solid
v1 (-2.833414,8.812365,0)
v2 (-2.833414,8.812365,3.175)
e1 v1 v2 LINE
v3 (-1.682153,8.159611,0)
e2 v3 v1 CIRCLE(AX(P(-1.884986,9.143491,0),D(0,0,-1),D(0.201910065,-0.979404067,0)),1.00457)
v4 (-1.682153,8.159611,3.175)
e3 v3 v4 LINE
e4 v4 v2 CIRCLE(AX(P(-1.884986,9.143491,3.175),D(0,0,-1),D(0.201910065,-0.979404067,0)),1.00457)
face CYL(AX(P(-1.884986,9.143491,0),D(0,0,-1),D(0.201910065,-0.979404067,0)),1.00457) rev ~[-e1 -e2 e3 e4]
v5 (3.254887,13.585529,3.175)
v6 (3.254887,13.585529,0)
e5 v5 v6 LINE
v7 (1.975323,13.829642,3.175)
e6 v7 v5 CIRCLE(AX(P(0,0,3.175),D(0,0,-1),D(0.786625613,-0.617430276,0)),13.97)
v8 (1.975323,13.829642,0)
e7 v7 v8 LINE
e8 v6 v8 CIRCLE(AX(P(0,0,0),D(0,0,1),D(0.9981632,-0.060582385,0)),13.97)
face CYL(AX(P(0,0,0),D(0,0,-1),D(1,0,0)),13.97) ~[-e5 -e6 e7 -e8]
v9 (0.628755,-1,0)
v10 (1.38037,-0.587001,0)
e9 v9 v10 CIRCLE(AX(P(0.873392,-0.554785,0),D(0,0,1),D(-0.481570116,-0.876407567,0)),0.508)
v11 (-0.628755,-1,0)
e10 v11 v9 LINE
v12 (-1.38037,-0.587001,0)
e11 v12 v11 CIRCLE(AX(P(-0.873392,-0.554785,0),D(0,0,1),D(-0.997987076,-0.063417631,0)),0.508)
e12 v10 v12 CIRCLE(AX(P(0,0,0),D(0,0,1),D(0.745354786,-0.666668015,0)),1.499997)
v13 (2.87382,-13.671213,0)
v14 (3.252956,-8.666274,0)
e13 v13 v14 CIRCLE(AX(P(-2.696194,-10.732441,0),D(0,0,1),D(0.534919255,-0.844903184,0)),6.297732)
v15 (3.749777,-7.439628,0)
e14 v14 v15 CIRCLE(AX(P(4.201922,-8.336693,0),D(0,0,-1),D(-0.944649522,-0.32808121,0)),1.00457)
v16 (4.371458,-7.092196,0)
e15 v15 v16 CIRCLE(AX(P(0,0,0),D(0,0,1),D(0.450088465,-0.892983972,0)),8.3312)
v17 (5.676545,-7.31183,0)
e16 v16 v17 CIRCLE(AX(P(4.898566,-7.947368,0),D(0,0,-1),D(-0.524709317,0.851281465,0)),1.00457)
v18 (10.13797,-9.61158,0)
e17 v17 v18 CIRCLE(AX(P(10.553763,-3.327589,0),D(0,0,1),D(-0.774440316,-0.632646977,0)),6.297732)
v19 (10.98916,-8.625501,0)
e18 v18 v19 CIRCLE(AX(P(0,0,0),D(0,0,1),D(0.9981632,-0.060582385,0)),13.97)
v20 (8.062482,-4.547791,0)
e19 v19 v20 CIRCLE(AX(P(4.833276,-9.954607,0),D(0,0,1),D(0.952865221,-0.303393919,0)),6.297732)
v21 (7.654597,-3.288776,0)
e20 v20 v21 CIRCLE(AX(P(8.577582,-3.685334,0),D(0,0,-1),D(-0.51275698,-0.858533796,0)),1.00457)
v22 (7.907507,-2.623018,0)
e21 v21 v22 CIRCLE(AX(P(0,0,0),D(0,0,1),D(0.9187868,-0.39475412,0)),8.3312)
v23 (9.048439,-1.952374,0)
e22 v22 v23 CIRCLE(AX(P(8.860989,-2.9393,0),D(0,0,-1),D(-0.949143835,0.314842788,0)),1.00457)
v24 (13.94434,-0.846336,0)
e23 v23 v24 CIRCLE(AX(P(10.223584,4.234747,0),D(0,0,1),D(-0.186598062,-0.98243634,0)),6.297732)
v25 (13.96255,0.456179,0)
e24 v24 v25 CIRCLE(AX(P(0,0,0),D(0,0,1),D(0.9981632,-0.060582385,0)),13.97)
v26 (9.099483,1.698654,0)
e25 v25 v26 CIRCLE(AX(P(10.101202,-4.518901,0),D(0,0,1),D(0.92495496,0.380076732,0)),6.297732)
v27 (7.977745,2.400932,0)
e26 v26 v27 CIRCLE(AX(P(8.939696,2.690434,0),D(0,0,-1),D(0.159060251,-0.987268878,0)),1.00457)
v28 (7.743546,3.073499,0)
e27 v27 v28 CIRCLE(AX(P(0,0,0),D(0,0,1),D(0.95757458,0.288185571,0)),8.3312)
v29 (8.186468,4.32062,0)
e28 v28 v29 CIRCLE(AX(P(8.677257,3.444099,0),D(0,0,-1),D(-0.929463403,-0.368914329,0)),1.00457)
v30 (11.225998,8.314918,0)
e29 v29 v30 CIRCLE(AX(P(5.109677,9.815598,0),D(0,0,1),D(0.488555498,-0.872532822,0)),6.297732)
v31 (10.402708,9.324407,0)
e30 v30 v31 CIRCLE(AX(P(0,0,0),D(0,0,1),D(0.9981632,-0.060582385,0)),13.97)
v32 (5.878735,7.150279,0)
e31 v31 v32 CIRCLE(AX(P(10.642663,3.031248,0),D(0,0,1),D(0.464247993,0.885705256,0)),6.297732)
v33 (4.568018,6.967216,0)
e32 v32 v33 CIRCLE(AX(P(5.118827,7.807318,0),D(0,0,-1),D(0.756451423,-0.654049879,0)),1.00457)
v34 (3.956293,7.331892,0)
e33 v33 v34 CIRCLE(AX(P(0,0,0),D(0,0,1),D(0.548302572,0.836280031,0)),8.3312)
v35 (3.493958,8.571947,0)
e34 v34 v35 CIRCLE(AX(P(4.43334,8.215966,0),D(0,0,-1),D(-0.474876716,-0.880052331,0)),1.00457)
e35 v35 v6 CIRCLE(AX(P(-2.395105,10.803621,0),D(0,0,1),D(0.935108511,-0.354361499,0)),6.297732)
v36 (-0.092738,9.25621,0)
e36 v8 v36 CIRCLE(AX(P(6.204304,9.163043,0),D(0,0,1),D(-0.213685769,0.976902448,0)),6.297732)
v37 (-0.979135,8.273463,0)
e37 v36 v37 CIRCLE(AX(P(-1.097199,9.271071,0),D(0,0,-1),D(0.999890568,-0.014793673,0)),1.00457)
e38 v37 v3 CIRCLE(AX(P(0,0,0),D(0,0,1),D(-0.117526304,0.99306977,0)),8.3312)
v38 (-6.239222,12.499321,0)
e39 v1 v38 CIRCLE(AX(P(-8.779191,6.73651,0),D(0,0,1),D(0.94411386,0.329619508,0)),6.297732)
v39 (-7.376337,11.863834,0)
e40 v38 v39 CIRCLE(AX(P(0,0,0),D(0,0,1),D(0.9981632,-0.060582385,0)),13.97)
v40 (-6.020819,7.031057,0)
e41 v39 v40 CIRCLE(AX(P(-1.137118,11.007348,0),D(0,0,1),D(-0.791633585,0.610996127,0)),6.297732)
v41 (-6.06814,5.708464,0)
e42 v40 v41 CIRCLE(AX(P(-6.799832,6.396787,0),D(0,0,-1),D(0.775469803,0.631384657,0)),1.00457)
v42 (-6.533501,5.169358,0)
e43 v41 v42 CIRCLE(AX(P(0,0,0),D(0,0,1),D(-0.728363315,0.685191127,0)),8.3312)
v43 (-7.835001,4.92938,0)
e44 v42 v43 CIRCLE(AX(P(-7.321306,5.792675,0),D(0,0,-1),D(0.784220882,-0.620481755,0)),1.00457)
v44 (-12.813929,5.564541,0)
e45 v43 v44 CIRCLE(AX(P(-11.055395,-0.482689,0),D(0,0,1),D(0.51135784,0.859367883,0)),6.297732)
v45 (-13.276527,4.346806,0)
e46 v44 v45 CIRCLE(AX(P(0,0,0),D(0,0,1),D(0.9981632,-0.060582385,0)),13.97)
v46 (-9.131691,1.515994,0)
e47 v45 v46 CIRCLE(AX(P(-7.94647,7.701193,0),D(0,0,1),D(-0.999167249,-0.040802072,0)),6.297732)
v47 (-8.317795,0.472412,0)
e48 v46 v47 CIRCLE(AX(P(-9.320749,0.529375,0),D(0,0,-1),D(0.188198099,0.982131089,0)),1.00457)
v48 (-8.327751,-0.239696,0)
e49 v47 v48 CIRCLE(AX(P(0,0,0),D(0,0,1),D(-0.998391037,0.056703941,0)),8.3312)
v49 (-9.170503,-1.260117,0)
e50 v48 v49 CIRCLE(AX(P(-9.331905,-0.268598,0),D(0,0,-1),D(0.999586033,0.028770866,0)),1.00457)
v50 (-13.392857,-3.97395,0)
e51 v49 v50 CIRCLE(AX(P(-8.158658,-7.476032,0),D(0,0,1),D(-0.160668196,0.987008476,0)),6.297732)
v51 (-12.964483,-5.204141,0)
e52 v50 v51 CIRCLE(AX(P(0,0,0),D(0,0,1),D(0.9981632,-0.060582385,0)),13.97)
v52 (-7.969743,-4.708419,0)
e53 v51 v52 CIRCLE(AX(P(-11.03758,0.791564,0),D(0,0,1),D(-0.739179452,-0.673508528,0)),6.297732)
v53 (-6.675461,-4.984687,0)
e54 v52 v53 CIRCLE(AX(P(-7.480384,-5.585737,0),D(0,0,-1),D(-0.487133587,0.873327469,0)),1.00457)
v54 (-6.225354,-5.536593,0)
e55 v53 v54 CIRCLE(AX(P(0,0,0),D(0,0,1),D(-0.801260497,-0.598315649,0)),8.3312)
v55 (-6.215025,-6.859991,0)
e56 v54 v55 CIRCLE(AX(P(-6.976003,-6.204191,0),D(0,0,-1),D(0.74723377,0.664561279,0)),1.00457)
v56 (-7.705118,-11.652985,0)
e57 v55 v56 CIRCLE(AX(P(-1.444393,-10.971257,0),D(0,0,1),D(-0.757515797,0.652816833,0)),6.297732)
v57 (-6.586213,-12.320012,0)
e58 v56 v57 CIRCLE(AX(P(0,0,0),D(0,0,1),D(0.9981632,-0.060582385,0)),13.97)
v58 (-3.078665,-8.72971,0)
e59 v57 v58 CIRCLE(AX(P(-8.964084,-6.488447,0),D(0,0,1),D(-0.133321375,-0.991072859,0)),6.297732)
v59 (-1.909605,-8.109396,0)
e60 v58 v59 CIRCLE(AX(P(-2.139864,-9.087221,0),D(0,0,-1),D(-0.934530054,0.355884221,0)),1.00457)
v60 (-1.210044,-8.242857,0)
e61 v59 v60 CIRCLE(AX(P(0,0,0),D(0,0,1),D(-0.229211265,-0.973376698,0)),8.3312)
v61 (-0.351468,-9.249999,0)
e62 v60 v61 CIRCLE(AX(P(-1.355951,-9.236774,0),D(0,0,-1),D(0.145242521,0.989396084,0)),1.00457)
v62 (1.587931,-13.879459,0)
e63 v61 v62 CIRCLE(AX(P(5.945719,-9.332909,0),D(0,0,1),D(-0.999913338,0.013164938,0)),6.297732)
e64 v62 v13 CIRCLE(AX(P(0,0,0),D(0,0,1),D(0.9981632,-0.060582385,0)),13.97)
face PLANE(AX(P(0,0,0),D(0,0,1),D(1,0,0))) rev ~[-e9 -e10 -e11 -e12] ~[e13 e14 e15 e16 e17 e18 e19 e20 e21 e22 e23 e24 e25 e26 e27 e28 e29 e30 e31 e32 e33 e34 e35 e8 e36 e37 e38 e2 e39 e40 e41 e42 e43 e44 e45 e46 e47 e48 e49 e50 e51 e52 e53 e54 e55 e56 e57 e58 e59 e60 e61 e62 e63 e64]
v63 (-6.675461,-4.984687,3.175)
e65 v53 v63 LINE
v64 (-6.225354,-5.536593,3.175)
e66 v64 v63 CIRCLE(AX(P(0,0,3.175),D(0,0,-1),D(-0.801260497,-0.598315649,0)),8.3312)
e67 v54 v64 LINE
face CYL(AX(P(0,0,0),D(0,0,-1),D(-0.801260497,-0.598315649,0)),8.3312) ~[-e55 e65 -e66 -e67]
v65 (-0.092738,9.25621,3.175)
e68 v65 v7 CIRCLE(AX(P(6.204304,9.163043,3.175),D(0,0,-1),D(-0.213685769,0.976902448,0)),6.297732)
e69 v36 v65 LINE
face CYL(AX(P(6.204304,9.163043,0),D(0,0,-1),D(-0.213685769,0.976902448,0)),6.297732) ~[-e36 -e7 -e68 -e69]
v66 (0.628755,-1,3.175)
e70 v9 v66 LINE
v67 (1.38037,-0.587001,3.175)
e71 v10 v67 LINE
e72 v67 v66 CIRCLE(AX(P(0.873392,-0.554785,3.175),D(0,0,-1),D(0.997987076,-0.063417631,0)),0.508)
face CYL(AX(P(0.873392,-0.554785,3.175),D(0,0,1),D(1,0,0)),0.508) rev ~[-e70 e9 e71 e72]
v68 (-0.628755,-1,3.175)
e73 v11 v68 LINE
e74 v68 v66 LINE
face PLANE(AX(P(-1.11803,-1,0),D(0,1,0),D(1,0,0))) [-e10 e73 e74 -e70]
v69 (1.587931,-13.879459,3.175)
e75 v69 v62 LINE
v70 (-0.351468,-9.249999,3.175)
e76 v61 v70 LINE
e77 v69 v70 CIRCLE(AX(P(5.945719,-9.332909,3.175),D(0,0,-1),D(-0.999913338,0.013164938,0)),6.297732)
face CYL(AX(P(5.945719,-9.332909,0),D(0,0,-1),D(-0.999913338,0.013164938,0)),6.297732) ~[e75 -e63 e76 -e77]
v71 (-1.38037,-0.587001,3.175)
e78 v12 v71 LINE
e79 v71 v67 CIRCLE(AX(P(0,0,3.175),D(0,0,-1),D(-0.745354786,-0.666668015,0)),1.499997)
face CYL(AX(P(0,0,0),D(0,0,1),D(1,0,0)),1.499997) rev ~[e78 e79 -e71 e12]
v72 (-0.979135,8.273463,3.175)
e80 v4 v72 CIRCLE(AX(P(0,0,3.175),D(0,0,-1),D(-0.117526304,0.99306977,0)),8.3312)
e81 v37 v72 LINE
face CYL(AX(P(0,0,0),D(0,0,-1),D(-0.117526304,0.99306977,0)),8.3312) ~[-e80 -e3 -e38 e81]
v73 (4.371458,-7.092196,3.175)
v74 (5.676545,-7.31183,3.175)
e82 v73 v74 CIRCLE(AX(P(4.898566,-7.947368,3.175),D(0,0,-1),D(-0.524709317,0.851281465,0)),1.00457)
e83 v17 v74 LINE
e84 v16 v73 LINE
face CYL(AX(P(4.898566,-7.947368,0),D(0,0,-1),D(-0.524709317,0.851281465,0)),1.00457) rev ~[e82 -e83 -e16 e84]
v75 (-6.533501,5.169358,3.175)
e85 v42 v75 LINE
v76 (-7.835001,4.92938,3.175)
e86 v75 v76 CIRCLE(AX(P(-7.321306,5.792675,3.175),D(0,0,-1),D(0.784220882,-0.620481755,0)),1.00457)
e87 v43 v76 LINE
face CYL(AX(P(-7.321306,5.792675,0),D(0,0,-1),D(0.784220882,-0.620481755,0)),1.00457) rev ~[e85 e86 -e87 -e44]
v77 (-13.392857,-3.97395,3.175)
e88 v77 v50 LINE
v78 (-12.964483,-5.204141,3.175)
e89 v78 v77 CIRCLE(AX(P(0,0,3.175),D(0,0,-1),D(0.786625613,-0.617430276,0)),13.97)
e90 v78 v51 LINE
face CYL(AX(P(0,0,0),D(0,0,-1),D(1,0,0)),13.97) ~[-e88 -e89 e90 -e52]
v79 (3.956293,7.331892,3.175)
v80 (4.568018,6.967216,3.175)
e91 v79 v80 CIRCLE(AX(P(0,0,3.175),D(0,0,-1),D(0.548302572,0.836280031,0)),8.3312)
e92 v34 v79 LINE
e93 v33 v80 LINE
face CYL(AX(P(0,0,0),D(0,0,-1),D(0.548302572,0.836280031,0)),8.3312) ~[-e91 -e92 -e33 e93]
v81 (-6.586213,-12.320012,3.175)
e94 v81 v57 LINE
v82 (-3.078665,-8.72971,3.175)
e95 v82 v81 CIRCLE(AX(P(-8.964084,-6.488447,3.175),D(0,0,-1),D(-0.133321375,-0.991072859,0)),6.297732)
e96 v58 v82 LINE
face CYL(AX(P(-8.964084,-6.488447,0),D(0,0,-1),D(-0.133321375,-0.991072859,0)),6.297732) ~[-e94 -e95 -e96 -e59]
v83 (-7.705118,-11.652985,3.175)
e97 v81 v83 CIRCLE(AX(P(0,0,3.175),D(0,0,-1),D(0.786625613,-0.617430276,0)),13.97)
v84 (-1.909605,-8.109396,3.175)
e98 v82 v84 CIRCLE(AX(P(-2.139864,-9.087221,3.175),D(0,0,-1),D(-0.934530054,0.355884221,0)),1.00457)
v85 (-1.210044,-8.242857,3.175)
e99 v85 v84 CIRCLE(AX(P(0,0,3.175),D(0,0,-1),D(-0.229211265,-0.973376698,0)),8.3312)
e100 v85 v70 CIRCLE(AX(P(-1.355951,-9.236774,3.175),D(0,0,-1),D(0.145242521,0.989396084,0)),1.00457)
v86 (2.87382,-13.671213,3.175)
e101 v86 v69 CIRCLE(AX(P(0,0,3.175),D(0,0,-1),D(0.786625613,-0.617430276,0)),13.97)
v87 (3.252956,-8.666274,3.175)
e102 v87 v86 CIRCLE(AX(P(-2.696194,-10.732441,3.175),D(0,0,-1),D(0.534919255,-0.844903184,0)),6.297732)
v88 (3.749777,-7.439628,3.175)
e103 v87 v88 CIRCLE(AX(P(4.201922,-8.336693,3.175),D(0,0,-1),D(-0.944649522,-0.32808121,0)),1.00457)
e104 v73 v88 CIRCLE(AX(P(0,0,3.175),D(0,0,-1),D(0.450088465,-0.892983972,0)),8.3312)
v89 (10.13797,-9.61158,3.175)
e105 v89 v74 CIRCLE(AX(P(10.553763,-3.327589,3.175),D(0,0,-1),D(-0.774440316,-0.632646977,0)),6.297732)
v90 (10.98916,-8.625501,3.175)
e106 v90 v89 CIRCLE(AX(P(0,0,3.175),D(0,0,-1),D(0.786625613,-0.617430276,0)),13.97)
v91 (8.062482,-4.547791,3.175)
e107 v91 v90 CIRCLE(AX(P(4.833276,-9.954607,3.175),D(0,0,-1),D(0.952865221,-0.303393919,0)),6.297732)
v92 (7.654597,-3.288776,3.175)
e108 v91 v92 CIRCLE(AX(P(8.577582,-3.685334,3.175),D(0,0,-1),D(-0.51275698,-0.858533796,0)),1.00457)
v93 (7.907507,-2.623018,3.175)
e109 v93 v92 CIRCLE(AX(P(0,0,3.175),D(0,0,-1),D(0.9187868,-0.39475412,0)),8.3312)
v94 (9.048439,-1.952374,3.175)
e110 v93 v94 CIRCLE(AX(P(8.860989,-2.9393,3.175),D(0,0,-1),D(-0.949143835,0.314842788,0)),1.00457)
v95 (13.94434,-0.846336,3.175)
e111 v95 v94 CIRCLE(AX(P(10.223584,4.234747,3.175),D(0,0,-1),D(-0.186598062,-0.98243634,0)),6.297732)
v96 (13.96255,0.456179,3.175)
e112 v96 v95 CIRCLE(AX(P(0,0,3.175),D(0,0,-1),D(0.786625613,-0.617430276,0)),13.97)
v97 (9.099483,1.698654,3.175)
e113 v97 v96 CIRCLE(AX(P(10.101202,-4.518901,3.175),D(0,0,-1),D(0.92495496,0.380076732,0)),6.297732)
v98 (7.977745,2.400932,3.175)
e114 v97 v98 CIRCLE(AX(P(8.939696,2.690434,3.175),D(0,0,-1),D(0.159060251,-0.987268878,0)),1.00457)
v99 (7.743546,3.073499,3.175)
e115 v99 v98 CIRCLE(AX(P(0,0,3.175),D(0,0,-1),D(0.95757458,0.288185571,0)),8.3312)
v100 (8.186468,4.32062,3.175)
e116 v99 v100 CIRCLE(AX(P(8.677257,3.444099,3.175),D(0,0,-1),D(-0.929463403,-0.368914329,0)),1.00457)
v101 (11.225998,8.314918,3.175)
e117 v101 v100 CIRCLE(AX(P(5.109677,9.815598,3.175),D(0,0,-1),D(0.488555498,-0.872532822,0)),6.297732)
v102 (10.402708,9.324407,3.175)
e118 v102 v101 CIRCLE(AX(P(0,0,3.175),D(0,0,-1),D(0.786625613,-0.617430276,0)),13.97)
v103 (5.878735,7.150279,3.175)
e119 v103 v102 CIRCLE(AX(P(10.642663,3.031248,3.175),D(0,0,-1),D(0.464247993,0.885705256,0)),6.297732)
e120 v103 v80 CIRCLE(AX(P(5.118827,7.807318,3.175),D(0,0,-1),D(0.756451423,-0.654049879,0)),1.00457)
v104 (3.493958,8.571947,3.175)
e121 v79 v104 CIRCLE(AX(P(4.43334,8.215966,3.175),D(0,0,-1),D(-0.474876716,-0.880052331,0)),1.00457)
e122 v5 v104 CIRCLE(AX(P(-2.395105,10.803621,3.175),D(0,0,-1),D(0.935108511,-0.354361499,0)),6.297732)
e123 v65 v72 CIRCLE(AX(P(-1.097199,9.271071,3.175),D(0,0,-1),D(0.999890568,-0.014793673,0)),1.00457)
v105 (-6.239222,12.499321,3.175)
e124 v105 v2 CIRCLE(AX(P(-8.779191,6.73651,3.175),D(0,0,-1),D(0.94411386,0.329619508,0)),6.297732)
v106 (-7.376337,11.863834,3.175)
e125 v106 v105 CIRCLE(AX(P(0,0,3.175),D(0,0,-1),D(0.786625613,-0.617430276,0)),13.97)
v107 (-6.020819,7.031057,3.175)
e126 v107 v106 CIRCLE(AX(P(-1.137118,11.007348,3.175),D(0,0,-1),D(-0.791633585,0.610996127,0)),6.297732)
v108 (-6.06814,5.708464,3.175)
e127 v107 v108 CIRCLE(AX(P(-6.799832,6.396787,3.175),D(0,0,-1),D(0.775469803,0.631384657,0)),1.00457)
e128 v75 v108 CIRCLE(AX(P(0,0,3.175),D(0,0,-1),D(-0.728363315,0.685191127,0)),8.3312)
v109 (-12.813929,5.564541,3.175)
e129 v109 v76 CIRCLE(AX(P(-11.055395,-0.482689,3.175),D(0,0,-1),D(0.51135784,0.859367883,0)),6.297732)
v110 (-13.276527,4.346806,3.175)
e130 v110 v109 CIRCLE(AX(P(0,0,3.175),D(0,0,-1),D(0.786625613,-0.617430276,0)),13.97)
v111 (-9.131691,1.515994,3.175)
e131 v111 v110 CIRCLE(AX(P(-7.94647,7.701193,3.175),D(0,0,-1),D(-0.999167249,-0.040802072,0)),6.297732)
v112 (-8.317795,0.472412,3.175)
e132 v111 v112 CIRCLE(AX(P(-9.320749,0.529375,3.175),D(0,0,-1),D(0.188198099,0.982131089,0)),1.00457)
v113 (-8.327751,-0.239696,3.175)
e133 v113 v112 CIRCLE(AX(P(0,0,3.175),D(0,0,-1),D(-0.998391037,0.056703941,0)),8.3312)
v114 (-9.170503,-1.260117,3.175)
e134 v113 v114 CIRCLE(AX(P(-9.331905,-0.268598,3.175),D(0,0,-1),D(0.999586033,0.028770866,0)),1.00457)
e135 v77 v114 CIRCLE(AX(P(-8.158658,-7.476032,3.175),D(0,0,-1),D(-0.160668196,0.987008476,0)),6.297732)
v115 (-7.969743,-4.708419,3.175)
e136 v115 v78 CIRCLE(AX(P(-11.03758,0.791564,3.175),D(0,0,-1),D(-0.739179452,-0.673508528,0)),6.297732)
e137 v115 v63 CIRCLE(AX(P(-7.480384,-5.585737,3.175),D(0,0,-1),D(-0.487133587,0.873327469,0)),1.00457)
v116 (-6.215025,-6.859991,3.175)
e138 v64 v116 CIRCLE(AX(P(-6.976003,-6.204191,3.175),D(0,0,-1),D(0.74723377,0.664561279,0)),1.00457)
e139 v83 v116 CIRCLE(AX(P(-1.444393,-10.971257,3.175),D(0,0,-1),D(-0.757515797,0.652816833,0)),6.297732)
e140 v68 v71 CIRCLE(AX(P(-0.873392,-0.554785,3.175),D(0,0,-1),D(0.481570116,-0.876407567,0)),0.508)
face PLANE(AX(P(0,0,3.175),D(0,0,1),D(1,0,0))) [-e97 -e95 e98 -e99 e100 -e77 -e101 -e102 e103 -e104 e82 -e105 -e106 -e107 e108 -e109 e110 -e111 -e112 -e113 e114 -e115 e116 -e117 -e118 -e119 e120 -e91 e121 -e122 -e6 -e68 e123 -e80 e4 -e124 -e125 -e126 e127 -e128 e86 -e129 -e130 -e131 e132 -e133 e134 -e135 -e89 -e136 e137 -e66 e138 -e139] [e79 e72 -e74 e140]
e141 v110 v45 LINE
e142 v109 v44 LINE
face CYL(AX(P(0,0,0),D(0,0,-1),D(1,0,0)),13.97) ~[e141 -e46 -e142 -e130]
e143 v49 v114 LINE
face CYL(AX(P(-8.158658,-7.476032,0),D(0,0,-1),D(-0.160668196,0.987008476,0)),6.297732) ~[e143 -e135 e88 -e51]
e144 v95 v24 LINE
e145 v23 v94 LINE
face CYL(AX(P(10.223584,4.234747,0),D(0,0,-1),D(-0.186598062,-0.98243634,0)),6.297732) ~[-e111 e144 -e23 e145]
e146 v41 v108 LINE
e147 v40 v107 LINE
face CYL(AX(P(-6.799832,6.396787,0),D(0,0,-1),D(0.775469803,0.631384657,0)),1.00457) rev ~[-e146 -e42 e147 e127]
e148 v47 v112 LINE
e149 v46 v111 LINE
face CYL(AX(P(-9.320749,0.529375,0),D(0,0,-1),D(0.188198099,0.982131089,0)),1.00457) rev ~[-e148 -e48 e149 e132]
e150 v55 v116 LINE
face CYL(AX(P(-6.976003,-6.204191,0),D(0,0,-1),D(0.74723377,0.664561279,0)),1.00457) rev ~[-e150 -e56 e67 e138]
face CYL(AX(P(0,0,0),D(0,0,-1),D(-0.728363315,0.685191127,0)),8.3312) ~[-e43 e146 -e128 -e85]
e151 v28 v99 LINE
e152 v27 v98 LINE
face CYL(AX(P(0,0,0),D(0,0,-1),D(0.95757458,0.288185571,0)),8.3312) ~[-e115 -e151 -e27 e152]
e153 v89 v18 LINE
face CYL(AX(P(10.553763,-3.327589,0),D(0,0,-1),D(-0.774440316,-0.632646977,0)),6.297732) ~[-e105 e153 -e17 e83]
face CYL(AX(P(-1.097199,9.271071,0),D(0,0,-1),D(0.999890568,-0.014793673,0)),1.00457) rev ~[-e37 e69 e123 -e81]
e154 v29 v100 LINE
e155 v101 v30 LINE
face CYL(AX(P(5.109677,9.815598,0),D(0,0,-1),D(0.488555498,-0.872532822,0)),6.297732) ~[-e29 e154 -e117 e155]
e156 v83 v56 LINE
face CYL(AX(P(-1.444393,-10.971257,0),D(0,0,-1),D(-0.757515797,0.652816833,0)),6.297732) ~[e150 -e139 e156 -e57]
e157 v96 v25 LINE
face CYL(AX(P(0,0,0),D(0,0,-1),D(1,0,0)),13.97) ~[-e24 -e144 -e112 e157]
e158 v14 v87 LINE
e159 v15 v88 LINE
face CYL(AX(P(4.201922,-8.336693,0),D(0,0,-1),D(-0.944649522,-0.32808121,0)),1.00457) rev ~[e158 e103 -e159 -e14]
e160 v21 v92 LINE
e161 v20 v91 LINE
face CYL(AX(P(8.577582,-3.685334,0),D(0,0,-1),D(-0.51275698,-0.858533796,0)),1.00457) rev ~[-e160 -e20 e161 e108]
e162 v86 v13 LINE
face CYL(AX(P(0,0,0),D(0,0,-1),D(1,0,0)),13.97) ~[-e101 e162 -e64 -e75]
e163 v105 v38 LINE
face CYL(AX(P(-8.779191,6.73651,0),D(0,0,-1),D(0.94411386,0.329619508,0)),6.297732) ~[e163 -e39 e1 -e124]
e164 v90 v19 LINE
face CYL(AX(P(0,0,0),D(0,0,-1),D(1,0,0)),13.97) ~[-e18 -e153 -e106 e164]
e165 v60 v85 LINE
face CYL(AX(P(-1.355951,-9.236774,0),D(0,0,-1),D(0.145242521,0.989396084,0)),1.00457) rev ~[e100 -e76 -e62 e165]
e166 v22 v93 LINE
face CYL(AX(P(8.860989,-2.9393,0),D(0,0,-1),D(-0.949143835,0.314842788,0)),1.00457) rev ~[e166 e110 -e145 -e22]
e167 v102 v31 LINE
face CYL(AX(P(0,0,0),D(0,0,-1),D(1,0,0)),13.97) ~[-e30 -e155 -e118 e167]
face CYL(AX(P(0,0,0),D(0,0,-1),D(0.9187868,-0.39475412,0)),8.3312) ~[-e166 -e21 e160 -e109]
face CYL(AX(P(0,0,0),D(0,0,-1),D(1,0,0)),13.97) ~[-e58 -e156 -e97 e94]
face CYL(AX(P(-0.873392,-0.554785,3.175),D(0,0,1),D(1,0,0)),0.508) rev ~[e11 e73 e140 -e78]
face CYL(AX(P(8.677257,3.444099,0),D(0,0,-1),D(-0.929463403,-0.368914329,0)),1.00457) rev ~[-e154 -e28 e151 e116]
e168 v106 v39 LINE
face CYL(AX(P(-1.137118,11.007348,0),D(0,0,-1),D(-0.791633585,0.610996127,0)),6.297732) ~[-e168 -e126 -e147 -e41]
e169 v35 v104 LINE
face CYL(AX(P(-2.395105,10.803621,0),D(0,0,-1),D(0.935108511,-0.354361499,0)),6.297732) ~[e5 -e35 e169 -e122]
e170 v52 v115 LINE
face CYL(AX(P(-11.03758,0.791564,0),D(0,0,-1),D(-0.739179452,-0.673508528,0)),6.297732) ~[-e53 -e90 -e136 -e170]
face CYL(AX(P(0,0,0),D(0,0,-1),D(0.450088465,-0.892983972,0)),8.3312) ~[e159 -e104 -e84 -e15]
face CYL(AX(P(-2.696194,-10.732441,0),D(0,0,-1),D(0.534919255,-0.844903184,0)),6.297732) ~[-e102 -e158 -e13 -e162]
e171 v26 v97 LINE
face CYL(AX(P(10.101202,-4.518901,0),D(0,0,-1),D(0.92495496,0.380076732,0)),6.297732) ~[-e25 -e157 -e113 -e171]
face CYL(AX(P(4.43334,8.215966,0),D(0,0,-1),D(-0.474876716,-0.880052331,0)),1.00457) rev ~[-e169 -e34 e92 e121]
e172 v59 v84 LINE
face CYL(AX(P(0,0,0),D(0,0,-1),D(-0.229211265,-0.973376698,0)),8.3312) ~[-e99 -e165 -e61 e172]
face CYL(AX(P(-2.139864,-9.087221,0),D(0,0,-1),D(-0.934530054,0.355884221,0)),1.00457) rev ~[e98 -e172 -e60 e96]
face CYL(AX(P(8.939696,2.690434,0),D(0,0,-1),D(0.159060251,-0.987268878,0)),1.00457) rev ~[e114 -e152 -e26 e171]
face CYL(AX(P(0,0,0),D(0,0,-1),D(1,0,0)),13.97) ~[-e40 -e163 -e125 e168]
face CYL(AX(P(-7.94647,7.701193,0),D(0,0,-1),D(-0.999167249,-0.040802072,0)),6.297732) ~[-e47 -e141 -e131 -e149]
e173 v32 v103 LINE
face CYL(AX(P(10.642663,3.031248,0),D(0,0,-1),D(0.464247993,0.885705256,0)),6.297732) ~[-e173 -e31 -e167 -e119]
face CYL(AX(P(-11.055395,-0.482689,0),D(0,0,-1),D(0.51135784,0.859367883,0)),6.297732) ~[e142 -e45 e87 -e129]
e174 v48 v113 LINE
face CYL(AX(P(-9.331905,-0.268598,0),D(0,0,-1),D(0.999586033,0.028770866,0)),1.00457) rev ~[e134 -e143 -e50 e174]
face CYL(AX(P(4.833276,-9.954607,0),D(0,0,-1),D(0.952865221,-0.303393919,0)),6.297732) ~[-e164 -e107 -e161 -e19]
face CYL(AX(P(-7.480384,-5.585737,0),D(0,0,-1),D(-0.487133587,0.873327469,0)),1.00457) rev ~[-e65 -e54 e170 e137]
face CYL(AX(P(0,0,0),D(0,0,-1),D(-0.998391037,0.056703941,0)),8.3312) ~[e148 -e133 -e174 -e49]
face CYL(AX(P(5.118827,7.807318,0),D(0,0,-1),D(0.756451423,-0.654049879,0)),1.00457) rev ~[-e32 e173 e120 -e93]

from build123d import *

# Parameters (mm, degrees)
SKETCH3_R           = 13.97
GEARBODY_DEPTH      = 3.175
TOOTHCUT_DEPTH      = 4.175
CIRPATTERN1_COUNT   = 9
BOREDIA_R           = 1.499997014
BORE_DEPTH          = 12700
BOSS_EXTRUDE1_DEPTH = 3.175
SKETCH5_R           = 0.508
CUT_EXTRUDE1_DEPTH  = 4.175


with BuildPart() as part:
    # Sketch3 → gearBody (new body)
    with BuildSketch(Plane.XY):
        Circle(SKETCH3_R)
    extrude(amount=GEARBODY_DEPTH)

    # Sketch2 → toothCut (cut, through all)
    with BuildSketch(Plane.XY):
        with BuildLine():
            ThreePointArc((7.654596591, -3.288775527), (7.788168987, -2.958600559), (7.907507119, -2.623018223))
            ThreePointArc((7.907507119, -2.623018223), (8.3519289, -2.073263372), (9.048439358, -1.952373766))
            ThreePointArc((9.048439358, -1.952373766), (13.146424788, -1.34364254), (15.979509974, 1.679214819))
            ThreePointArc((15.979509974, 1.679214819), (15.020212204, -5.705937852), (10.834165744, -11.865300419))
            ThreePointArc((10.834165744, -11.865300419), (10.7226862, -7.723850118), (8.062481966, -4.547790968))
            ThreePointArc((8.062481966, -4.547790968), (7.621913496, -3.994943305), (7.654596591, -3.288775527))
        make_face()
    toothcut = extrude(amount=TOOTHCUT_DEPTH, mode=Mode.SUBTRACT)

    # CirPattern1: toothCut ×9 about axis
    cirpattern1_axis = Axis((0, 0, 0), (0, 0, 1))
    for i in range(1, CIRPATTERN1_COUNT):
        add(toothcut.rotate(cirpattern1_axis, i * 360 / CIRPATTERN1_COUNT), mode=Mode.SUBTRACT)

    # boreDia → bore (cut, symmetric)
    with BuildSketch(Plane.XY):
        Circle(BOREDIA_R)
    extrude(amount=BORE_DEPTH, both=True, mode=Mode.SUBTRACT)

    # Sketch4 → Boss-Extrude1 (add)
    with BuildSketch(Plane(origin=(0, 0, 0), x_dir=(-1, 0, 0), z_dir=(0, 0, -1))):
        with BuildLine():
            Line((1.118029954, -1.000000032), (-1.118029954, -1.000000032))
            ThreePointArc((-1.118029954, -1.000000032), (0, -1.499997014), (1.118029954, -1.000000032))
        make_face()
    extrude(amount=-BOSS_EXTRUDE1_DEPTH)

    # Sketch5 → Cut-Extrude1 (cut, through all)
    with BuildSketch(Plane.XY.offset(3.175)):
        with Locations((-0.873392334, -0.554784988)):
            Circle(SKETCH5_R)
        with Locations((0.873392334, -0.554784988)):
            Circle(SKETCH5_R)
    extrude(amount=-CUT_EXTRUDE1_DEPTH, mode=Mode.SUBTRACT)


solid = part.part
